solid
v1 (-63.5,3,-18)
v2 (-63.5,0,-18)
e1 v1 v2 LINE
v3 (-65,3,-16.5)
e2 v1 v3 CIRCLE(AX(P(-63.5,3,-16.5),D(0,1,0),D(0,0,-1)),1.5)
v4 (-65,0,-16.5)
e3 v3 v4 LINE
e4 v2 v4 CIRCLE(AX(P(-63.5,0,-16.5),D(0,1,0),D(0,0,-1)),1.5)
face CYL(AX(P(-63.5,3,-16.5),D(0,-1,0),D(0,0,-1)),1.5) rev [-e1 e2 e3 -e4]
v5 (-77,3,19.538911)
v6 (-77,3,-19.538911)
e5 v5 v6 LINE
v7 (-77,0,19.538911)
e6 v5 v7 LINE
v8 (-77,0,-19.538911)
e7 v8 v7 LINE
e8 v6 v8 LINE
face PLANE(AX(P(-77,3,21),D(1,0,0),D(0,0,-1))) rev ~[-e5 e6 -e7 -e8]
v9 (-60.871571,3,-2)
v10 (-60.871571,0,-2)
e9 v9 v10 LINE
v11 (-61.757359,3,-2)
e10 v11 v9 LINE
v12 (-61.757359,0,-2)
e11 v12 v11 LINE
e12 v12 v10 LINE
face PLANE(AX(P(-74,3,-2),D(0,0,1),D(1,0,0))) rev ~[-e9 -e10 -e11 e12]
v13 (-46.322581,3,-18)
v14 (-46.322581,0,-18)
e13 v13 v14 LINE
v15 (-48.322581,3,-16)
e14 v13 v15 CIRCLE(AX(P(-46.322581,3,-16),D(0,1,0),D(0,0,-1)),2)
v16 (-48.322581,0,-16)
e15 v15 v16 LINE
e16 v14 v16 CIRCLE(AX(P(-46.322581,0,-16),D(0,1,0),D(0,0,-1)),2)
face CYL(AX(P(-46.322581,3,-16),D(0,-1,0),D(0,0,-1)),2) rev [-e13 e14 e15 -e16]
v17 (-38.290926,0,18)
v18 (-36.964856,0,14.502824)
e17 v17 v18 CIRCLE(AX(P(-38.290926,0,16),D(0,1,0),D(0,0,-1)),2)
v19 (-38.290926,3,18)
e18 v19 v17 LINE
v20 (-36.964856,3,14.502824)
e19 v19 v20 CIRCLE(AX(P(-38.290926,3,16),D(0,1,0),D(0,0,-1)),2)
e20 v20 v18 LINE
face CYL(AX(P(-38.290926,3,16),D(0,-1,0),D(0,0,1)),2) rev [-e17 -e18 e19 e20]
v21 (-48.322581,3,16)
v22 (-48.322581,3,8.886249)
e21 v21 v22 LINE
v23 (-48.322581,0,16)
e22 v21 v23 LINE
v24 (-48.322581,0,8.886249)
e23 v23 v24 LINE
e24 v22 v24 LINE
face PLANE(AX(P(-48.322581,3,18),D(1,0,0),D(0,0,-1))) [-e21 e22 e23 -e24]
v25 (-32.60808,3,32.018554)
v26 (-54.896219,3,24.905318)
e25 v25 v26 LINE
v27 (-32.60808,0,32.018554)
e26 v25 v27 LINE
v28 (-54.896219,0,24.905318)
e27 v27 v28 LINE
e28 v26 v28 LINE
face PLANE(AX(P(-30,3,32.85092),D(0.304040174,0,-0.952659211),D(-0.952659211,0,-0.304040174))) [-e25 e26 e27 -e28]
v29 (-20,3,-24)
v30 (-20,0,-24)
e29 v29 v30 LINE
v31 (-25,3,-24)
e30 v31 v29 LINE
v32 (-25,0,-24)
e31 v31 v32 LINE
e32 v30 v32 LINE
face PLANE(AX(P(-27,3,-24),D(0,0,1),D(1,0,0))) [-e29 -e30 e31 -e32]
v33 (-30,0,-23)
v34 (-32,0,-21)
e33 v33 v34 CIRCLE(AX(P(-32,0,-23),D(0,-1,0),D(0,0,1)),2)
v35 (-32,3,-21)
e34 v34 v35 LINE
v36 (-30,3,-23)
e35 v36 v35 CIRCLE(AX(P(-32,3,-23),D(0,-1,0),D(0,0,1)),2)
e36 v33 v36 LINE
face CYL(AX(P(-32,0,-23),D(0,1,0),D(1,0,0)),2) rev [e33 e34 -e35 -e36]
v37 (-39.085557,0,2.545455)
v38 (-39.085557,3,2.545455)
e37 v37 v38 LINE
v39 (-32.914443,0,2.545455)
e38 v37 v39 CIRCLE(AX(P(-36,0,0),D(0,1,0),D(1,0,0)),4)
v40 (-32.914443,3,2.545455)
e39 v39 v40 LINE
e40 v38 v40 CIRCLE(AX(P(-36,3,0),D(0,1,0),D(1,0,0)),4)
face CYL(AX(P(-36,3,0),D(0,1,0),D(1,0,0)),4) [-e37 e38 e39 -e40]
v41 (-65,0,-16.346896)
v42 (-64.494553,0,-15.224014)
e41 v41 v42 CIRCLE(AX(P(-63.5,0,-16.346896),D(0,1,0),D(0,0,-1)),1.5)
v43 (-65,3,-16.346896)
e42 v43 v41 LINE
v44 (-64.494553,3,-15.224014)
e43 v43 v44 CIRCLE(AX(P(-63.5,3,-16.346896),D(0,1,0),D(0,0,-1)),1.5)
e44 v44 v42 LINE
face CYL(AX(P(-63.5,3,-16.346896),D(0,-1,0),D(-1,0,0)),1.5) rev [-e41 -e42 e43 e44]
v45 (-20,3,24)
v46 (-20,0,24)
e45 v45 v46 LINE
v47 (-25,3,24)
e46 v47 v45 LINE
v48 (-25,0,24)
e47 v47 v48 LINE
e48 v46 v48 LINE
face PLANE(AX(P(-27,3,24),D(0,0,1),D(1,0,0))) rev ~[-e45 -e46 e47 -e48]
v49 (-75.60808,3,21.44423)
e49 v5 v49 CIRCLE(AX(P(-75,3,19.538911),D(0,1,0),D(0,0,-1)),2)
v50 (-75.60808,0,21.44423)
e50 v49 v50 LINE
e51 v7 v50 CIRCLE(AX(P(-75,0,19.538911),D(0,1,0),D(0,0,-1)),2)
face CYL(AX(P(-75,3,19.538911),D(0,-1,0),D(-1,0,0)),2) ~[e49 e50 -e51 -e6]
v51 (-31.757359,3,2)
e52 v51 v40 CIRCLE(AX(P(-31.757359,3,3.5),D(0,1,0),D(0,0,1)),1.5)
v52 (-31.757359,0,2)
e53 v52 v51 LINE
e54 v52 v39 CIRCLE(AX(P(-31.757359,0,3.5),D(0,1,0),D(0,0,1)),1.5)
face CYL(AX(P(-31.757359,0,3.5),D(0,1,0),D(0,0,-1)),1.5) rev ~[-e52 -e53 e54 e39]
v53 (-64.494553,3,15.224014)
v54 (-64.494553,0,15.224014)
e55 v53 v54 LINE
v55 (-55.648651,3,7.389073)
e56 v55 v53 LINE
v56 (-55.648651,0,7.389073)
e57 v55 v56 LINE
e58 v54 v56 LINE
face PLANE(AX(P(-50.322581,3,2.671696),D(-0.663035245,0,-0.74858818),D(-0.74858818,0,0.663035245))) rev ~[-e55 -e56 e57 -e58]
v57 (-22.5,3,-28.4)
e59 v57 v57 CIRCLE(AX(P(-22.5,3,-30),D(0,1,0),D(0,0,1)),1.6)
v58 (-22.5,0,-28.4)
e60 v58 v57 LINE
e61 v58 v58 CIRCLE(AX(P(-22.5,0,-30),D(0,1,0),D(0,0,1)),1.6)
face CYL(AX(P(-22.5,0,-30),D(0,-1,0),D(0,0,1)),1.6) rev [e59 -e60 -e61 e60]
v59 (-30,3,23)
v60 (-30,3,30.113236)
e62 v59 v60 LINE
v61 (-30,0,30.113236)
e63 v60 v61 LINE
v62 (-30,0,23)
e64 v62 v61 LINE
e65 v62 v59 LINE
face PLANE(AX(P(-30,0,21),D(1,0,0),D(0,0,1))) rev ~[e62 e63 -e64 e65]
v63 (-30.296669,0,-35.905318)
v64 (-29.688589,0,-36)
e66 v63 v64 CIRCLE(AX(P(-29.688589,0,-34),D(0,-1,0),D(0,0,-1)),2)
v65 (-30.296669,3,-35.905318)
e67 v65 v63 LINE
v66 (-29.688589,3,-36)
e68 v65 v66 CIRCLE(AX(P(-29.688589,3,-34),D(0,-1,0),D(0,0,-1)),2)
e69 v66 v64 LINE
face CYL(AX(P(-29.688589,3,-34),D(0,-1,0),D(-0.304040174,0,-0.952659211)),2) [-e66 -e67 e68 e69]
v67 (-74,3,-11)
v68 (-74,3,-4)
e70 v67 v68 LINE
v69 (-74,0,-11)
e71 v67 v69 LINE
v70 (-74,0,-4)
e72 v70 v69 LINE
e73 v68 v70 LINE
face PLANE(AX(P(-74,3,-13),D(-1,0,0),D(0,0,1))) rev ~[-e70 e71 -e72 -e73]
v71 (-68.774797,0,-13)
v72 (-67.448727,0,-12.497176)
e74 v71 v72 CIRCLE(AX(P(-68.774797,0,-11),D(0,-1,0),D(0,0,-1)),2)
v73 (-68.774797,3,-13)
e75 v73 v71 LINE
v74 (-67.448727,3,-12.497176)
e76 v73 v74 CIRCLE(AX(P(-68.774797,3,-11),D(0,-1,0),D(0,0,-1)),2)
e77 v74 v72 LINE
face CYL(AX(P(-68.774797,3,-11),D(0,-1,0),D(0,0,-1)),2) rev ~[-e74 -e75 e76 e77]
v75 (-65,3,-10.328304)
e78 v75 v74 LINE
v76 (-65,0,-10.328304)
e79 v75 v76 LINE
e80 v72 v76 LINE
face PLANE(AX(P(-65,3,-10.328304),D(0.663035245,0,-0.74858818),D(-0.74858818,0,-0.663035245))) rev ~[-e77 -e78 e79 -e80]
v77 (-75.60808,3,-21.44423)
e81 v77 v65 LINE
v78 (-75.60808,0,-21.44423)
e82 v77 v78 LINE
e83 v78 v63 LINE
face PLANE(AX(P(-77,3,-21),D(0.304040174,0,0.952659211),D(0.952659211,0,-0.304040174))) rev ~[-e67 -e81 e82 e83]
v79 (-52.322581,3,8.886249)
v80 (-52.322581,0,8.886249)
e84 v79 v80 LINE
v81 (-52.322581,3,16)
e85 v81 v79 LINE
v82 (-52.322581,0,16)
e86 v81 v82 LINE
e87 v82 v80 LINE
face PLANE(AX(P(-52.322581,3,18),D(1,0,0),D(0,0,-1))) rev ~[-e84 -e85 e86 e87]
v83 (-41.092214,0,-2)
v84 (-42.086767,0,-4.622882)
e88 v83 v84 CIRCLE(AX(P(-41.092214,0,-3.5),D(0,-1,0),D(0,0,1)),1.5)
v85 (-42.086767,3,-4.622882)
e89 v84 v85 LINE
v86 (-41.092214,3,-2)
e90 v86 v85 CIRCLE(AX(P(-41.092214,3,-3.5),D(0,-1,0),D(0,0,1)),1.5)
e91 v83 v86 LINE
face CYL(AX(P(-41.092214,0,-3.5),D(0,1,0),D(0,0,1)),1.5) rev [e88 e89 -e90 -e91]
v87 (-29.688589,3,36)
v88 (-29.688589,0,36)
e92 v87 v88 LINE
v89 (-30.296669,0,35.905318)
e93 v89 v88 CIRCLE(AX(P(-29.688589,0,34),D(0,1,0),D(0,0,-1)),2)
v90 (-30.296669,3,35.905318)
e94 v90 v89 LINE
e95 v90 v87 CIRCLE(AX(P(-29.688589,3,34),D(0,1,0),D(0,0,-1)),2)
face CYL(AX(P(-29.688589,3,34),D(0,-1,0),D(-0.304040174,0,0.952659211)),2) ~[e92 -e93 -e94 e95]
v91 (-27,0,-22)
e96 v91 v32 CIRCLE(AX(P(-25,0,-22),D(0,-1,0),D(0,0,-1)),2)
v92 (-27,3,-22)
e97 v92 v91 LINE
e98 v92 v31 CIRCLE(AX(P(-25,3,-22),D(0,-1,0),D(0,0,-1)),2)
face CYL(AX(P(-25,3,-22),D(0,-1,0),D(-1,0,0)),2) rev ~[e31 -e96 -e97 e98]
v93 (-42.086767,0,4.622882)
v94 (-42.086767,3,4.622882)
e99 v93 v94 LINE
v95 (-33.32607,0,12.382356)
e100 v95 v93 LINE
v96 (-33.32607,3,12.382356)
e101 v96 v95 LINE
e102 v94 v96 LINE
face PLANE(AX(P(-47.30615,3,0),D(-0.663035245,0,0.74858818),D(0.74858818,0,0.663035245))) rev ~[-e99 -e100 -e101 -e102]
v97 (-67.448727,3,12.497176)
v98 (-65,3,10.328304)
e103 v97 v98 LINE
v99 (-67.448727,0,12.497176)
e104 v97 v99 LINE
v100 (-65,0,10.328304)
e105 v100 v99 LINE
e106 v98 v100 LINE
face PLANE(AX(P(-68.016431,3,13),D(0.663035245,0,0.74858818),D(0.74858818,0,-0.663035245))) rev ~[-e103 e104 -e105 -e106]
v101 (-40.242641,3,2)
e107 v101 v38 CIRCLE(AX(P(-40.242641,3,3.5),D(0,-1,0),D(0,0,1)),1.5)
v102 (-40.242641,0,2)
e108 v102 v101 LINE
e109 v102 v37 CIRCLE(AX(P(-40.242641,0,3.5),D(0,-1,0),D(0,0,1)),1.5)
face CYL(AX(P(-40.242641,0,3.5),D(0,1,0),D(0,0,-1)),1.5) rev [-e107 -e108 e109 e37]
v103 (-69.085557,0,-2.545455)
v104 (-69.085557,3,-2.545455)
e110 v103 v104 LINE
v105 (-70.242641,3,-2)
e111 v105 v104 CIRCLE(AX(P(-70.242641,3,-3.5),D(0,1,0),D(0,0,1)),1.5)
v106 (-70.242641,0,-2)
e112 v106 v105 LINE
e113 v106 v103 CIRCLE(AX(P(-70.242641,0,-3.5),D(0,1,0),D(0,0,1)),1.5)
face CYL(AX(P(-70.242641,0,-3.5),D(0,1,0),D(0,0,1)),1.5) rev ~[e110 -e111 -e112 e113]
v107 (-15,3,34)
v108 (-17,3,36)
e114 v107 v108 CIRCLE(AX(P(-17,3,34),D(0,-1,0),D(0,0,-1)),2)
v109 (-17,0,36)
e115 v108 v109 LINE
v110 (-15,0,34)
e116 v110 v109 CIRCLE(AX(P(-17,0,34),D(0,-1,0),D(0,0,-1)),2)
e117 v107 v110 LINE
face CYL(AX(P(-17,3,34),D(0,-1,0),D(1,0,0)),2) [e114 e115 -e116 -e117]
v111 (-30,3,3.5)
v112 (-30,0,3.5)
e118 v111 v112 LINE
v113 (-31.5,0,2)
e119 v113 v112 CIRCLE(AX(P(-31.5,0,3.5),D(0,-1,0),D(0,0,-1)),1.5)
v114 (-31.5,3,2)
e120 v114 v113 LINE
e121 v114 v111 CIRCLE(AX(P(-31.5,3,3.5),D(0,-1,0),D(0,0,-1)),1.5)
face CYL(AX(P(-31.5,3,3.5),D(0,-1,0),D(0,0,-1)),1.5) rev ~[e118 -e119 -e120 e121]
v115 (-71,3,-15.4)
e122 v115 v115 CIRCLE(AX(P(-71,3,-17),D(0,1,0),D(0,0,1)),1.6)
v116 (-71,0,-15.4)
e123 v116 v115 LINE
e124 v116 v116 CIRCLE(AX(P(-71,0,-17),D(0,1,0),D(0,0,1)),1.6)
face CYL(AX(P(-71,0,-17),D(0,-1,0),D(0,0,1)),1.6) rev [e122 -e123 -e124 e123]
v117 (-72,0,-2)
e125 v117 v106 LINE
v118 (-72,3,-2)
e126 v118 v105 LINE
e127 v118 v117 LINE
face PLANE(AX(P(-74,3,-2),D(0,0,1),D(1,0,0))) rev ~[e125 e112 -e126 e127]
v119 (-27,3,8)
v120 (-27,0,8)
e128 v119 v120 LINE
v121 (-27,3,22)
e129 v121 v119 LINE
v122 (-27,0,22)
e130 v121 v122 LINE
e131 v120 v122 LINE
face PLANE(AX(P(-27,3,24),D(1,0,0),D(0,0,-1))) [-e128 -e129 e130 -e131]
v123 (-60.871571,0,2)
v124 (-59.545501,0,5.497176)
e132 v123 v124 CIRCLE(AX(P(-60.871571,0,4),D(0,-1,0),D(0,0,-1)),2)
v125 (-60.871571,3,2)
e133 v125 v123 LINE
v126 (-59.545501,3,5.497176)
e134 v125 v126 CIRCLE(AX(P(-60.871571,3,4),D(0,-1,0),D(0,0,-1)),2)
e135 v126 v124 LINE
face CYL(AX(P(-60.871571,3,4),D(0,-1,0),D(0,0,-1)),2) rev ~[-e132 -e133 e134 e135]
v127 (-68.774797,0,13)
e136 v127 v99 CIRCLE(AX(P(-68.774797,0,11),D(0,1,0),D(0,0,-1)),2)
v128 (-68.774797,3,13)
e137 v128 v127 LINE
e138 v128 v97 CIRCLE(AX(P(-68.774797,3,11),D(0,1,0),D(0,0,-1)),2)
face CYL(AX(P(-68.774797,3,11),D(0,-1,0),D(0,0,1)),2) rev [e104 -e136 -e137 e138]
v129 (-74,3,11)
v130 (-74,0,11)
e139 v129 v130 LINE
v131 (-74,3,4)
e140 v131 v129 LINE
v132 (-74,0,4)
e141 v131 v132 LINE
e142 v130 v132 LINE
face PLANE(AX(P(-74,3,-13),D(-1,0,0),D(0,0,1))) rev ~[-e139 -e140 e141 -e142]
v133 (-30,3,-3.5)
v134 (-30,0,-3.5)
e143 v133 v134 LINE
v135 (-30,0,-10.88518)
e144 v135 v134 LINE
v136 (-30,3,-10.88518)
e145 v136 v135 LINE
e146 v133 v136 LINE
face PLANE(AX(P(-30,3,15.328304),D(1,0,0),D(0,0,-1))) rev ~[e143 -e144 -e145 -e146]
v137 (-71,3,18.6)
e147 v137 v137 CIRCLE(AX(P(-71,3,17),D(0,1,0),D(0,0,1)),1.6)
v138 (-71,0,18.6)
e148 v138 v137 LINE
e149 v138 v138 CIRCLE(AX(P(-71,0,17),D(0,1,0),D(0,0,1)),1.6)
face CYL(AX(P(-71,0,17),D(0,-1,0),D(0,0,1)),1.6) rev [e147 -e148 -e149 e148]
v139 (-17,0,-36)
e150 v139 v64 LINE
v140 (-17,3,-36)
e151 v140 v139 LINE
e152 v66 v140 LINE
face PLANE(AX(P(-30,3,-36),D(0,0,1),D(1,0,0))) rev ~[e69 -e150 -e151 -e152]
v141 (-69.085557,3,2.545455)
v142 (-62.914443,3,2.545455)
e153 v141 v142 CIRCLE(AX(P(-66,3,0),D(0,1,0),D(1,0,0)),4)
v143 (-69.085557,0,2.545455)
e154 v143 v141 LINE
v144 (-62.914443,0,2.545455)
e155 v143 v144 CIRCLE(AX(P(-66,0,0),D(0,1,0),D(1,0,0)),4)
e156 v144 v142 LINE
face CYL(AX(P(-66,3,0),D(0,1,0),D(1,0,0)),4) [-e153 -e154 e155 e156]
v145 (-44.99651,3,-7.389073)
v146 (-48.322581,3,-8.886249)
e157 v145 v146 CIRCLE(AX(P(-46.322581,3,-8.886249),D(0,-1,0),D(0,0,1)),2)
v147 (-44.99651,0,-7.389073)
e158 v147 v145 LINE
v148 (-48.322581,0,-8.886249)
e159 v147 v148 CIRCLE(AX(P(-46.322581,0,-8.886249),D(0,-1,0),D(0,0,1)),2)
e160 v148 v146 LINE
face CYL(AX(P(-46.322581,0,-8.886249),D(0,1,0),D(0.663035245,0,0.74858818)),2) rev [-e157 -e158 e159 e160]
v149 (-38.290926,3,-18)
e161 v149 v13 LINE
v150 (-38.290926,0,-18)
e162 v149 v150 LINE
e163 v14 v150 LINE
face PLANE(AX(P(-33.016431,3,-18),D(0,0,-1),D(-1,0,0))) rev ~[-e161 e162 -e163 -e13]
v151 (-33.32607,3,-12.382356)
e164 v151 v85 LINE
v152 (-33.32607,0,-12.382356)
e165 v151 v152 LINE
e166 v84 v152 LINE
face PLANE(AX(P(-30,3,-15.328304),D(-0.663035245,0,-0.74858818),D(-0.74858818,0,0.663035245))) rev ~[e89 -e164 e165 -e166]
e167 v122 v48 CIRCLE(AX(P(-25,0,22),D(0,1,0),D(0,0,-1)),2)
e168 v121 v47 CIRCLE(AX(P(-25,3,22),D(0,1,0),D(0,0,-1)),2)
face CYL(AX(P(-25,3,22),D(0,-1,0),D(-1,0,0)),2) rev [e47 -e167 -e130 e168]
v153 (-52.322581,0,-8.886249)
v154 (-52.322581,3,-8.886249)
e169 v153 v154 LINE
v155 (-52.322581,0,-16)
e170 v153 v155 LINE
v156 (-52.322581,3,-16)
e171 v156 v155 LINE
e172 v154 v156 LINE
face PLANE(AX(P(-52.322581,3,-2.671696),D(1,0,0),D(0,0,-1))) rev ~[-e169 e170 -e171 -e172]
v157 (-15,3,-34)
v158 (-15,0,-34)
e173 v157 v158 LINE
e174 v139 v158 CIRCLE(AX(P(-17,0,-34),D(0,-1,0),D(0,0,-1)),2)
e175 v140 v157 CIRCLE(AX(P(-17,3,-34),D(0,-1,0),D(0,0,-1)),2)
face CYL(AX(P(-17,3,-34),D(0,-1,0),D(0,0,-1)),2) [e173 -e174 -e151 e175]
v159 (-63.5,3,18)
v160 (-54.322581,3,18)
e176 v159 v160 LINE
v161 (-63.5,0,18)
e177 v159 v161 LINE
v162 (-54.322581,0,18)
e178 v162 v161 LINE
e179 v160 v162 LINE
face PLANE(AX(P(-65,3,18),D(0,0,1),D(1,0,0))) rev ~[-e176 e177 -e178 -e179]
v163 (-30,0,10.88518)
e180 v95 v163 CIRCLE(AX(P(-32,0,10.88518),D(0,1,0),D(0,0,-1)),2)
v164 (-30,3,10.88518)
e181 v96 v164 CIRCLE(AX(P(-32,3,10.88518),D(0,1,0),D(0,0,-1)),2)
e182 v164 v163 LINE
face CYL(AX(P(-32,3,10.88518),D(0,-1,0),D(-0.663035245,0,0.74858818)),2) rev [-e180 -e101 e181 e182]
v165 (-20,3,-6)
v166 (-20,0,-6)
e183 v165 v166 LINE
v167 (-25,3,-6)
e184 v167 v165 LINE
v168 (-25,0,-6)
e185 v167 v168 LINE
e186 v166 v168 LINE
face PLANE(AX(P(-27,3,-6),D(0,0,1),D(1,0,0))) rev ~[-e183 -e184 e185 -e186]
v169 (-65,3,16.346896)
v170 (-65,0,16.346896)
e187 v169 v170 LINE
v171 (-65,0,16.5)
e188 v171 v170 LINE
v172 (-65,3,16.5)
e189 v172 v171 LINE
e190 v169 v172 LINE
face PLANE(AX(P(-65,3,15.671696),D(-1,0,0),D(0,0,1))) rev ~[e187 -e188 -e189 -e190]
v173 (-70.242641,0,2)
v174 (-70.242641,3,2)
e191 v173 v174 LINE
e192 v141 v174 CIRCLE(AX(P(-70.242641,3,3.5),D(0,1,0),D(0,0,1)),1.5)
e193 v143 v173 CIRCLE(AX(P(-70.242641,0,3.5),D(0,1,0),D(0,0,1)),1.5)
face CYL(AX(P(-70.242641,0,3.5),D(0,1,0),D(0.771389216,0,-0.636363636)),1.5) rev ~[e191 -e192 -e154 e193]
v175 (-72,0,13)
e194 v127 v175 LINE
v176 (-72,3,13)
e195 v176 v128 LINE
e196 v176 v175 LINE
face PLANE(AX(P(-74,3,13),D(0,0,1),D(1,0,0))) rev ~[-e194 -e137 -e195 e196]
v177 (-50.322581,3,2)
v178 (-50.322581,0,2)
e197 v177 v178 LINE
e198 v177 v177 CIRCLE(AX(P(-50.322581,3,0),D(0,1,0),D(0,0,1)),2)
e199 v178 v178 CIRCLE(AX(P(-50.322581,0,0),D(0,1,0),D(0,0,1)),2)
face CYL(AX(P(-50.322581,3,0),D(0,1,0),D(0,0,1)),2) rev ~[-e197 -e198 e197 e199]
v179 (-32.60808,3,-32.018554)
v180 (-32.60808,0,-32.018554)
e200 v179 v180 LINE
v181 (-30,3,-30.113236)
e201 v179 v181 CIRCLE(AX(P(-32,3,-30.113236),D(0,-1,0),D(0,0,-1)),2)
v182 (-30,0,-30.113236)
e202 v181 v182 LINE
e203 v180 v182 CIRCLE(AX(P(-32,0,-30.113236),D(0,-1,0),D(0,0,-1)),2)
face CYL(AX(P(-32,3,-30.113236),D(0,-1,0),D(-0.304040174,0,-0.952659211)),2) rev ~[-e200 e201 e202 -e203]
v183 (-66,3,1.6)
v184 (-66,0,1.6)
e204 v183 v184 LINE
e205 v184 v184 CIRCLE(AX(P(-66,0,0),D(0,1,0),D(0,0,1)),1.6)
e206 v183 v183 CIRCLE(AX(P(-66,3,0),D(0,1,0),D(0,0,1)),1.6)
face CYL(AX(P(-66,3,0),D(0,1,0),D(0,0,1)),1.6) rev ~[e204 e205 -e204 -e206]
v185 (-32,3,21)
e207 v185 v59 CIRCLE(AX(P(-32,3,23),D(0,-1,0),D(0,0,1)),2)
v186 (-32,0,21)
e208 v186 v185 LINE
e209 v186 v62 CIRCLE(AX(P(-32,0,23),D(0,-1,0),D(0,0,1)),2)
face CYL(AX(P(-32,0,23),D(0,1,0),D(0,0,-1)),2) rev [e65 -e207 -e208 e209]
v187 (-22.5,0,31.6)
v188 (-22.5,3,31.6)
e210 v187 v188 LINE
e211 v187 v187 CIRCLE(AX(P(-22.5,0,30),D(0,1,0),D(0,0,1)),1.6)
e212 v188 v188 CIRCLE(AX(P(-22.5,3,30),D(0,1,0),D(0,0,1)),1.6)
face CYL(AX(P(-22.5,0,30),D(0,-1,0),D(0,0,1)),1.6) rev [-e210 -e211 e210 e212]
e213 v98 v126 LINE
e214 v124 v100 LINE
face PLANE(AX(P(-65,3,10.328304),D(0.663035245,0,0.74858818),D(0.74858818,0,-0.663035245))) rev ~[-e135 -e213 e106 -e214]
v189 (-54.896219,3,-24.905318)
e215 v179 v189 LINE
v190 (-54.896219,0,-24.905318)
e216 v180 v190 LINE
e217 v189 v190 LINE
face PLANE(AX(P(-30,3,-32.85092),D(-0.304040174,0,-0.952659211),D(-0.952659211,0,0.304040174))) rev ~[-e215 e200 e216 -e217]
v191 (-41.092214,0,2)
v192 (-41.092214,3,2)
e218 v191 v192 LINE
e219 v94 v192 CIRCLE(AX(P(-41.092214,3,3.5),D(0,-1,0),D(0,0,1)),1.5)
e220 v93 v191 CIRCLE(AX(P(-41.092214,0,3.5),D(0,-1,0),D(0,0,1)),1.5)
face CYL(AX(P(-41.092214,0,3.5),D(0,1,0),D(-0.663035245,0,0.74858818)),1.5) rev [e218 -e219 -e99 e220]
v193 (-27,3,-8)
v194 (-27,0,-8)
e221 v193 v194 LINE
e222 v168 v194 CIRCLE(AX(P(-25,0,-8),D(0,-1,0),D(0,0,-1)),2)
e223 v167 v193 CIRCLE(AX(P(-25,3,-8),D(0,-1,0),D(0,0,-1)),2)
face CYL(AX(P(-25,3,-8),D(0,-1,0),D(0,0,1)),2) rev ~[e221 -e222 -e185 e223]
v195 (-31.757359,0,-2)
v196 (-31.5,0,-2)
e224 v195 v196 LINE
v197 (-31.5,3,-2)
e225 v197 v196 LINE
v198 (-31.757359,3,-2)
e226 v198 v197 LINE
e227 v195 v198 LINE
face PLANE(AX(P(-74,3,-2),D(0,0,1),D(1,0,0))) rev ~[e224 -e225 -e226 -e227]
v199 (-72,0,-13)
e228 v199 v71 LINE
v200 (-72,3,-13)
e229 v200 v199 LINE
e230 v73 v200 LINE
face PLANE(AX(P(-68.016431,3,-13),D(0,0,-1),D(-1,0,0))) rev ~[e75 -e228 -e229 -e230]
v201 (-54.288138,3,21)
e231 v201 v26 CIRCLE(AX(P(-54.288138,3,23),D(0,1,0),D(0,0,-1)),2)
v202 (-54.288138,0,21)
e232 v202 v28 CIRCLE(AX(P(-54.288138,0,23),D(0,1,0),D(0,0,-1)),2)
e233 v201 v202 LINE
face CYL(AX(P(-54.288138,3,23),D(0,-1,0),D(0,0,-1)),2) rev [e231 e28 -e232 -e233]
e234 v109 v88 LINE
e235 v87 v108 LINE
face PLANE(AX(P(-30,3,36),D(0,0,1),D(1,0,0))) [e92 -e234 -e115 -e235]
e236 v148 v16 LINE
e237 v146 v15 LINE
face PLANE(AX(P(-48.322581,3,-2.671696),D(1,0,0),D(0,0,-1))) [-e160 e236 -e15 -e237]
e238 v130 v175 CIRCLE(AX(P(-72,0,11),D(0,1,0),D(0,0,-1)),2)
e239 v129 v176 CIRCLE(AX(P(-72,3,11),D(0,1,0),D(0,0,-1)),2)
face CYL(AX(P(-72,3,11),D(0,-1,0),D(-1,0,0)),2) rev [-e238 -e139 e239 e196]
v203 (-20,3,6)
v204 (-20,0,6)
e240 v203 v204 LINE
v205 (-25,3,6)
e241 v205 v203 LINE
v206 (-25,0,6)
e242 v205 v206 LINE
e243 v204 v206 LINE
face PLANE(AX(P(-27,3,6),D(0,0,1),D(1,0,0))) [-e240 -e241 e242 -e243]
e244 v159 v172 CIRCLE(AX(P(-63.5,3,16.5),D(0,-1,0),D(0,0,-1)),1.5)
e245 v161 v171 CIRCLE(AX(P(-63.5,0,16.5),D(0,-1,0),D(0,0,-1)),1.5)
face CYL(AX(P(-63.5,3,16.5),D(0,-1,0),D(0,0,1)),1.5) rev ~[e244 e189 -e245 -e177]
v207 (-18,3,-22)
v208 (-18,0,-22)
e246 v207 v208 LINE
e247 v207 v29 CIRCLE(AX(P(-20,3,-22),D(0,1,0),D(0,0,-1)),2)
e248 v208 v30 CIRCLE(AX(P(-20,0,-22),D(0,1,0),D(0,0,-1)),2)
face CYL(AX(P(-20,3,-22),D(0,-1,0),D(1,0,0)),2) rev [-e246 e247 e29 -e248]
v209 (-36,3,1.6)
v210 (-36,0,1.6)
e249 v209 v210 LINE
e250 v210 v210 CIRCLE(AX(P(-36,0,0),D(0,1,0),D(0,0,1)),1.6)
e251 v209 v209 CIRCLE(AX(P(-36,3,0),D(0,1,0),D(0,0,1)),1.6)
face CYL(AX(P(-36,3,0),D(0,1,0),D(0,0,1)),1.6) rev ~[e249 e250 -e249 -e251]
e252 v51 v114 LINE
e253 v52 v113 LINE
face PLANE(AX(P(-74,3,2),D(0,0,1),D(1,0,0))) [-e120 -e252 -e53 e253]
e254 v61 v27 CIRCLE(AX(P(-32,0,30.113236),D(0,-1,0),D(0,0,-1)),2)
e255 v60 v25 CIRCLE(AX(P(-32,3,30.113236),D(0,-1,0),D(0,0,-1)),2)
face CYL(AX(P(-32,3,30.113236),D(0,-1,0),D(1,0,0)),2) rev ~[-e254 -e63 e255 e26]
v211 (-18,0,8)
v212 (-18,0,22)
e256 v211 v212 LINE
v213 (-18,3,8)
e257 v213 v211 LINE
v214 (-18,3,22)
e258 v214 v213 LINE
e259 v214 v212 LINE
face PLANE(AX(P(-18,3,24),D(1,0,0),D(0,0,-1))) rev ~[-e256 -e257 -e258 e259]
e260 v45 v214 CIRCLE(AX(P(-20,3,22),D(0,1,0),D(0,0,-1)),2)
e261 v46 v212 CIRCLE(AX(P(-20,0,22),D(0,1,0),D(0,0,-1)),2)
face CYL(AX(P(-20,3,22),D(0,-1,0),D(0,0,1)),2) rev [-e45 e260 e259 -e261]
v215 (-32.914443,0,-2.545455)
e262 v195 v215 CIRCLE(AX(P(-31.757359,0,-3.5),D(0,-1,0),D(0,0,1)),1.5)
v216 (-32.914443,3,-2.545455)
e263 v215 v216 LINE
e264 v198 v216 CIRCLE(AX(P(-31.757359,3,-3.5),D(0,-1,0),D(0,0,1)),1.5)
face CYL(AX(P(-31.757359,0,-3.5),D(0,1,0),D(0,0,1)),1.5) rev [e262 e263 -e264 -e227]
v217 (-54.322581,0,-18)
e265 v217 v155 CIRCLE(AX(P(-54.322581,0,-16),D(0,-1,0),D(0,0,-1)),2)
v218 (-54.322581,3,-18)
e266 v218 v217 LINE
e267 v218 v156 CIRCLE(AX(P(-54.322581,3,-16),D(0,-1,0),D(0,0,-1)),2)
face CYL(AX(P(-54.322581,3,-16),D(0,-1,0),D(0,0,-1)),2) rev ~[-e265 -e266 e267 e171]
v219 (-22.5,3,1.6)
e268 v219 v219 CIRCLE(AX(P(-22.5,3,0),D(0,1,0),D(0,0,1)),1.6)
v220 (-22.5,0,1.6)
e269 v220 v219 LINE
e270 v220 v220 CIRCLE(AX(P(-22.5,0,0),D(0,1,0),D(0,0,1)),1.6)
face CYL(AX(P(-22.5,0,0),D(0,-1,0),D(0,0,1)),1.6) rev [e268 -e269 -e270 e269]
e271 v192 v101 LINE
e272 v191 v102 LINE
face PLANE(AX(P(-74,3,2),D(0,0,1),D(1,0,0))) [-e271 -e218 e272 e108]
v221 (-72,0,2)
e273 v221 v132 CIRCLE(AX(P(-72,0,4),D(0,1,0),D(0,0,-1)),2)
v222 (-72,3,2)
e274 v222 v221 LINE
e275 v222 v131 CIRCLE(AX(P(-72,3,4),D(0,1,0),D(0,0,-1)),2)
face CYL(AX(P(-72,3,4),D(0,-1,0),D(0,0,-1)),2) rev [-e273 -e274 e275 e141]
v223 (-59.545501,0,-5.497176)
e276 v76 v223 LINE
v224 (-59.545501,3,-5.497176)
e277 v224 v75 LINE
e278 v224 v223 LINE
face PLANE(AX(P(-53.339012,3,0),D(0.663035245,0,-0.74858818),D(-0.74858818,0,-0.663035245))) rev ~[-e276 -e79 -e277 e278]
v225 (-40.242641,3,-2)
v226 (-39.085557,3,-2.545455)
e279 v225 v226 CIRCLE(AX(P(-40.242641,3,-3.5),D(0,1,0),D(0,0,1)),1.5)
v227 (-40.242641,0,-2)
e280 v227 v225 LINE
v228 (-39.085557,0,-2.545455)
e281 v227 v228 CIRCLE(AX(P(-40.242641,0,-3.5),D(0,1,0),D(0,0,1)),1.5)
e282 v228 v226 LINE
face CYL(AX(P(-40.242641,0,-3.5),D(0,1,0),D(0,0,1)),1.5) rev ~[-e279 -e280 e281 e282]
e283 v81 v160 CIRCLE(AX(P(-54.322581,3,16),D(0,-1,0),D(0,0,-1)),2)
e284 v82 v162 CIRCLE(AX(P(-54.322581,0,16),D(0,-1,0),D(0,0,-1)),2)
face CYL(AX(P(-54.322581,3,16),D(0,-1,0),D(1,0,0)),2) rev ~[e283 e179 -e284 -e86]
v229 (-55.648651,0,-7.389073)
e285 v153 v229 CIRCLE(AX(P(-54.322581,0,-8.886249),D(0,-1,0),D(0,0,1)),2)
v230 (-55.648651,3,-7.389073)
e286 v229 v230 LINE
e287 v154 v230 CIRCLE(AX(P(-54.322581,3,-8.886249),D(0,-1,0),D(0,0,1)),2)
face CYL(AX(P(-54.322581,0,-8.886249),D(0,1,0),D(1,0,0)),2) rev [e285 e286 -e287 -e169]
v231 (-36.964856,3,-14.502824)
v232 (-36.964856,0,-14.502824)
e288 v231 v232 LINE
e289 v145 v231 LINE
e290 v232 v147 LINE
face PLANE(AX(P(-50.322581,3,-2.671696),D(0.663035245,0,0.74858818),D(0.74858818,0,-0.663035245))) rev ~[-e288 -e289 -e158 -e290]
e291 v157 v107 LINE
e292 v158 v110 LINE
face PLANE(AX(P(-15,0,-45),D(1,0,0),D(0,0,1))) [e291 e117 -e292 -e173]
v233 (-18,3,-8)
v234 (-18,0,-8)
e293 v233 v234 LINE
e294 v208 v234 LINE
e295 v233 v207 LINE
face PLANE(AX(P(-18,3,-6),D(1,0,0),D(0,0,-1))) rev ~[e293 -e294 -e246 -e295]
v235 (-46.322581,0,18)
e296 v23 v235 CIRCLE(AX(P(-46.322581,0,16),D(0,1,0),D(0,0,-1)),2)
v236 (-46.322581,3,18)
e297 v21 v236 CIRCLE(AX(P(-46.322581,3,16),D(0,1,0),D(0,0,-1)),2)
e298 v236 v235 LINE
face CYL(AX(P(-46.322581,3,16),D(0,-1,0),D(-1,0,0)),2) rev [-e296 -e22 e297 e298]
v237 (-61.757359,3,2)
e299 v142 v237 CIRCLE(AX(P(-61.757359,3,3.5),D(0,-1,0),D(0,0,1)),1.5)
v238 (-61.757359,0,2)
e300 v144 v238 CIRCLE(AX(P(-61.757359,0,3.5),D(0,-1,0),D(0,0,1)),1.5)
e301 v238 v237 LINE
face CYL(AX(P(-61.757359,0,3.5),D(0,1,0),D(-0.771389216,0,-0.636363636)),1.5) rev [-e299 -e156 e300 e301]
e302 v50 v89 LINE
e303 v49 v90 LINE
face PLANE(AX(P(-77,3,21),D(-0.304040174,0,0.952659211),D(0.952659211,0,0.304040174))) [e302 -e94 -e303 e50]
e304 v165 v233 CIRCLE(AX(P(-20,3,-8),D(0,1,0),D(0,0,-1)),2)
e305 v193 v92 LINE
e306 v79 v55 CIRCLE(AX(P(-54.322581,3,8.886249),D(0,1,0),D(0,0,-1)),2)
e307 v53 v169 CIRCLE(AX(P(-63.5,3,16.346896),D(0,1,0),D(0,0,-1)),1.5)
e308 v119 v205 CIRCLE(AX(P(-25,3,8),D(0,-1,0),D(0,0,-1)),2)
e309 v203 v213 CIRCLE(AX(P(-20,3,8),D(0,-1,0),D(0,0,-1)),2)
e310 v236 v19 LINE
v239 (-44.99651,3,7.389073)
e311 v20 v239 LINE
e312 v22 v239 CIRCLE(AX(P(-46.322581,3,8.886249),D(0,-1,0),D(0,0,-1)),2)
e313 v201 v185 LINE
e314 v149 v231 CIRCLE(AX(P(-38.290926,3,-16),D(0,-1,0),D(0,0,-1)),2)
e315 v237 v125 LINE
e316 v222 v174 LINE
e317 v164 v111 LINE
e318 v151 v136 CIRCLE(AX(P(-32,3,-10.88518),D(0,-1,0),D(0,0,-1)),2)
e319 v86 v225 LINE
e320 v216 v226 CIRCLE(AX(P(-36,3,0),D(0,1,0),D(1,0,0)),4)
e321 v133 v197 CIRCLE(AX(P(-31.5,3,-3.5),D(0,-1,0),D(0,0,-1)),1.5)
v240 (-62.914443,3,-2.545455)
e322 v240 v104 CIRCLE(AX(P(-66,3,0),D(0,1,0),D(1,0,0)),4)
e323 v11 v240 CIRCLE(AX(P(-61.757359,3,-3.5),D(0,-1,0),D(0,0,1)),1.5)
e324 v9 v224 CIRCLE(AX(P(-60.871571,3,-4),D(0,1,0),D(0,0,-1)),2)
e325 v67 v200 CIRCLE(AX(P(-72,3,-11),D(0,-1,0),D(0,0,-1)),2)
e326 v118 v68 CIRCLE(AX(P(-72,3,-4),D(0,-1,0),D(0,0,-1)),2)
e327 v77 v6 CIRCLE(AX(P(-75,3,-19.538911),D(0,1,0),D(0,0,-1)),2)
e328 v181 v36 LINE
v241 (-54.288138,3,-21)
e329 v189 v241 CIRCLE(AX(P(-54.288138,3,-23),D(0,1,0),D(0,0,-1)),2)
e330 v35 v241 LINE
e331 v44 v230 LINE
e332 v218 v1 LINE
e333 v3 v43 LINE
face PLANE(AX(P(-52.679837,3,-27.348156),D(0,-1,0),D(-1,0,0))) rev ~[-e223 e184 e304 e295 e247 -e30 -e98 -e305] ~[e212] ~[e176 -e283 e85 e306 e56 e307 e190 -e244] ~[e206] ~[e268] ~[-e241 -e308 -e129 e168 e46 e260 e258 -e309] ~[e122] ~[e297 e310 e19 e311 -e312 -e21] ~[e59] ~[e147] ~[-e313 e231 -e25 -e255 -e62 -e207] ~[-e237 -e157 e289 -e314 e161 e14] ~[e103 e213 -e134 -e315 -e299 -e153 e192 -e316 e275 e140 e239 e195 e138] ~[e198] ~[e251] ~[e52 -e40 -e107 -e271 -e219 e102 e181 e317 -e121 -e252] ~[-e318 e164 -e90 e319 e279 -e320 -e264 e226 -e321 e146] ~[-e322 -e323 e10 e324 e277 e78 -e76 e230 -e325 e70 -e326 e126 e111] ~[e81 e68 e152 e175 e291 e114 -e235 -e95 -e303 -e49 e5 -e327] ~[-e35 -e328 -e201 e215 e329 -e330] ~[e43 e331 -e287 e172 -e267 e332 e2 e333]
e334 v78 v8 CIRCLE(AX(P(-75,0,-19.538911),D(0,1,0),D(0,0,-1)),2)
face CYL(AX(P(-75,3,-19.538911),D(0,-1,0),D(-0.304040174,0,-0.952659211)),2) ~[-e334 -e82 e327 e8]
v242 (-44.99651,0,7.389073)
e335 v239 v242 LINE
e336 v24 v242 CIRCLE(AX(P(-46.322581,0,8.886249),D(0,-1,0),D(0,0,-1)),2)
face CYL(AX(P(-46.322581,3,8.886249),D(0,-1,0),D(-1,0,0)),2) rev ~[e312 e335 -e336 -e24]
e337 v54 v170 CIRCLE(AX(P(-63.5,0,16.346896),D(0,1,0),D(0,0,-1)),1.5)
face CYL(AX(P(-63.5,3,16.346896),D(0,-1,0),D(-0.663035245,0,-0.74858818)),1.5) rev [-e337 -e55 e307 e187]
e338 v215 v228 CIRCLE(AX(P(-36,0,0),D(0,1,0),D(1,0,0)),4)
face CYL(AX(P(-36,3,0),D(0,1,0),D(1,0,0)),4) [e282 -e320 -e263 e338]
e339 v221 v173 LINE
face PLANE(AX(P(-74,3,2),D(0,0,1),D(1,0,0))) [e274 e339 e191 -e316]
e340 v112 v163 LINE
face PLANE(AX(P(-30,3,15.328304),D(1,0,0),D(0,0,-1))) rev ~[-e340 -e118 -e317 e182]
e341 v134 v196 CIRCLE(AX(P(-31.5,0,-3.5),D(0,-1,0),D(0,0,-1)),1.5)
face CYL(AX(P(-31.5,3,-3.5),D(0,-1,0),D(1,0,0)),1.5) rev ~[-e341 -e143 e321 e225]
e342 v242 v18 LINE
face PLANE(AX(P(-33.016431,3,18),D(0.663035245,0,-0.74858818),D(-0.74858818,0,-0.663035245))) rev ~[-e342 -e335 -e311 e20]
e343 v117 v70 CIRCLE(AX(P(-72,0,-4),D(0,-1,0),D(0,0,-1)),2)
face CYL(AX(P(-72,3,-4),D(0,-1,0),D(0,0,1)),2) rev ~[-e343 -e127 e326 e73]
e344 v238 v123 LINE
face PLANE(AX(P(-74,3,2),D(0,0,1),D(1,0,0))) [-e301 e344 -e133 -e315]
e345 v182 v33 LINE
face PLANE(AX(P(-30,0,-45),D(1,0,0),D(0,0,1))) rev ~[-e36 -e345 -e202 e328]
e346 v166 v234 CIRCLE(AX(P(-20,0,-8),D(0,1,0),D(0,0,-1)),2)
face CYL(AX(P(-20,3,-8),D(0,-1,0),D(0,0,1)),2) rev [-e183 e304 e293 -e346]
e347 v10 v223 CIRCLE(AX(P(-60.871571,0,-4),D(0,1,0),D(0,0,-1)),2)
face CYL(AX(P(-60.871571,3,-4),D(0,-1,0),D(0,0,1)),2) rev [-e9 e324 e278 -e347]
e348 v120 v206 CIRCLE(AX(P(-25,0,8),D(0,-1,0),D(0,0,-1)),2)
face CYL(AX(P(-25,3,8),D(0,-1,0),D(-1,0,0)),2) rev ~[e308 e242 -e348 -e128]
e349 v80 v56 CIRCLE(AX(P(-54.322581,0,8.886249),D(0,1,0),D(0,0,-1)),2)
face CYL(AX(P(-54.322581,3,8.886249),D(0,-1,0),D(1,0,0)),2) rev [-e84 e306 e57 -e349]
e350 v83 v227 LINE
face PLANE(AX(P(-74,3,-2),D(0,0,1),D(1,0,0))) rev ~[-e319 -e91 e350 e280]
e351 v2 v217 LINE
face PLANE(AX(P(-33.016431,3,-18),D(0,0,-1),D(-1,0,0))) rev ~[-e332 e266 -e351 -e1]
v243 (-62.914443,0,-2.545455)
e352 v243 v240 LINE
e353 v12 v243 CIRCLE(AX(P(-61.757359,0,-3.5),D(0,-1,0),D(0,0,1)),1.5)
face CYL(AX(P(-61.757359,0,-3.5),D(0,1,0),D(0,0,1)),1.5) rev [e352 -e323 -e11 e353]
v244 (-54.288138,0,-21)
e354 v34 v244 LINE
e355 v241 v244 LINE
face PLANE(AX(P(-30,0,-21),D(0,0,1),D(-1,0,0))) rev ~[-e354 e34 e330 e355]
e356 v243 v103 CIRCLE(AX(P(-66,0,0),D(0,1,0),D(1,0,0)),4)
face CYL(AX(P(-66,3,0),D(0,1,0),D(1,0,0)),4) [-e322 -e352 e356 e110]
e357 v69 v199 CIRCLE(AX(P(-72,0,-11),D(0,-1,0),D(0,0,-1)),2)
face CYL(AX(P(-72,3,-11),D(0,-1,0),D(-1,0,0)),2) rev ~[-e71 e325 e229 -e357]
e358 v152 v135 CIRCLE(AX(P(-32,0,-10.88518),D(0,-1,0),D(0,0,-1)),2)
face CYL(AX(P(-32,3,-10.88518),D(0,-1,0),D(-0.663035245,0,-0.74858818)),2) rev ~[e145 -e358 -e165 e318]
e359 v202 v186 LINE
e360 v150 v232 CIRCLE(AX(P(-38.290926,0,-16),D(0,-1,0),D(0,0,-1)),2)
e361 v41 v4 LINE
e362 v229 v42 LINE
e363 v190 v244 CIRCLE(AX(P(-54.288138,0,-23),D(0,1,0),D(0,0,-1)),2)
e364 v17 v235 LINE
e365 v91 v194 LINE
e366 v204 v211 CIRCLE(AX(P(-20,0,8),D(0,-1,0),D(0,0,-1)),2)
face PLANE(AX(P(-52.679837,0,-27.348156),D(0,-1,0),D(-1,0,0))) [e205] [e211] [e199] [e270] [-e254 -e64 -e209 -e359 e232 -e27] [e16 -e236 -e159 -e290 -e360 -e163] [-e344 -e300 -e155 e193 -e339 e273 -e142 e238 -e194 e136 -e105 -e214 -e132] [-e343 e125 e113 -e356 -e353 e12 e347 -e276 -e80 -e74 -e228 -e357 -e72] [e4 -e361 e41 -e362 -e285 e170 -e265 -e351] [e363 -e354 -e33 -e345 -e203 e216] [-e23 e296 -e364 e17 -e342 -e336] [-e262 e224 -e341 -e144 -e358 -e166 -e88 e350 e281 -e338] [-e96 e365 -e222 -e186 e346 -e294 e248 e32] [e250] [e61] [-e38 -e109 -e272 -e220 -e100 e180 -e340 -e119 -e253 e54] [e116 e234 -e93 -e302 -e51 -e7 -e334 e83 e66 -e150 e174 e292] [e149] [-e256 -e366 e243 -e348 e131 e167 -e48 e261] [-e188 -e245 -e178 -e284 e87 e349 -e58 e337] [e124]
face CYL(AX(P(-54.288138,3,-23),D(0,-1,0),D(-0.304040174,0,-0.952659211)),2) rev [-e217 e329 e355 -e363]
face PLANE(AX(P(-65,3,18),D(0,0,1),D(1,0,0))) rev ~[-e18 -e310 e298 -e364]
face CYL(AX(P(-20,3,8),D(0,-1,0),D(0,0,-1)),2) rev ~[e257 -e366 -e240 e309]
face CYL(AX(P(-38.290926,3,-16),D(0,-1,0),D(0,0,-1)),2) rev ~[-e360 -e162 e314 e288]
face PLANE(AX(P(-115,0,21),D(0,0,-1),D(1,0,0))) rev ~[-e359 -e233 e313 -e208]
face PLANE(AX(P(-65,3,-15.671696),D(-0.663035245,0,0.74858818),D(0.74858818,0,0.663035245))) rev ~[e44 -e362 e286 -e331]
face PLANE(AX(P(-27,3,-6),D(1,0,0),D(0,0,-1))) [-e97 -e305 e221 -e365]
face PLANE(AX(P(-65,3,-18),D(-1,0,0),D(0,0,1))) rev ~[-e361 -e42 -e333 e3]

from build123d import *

# Parameters (mm, degrees)
SKETCH_1_R          = 1.6
EXTRUDE_1_DEPTH     = 3
SKETCH_2_W          = 38
SKETCH_2_H          = 42
CUT_EXTRUDE_1_DEPTH = 124.527324912
CUT_EXTRUDE_2_DEPTH = 90.235643103
SKETCH_4_W          = 9
SKETCH_4_H          = 18
SKETCH_4_W_2        = 15
SKETCH_4_H_2        = 9
CUT_EXTRUDE_3_DEPTH = 90.235643103
SKETCH_5_W          = 44
SKETCH_5_H          = 4
EXTRUDE_2_DEPTH     = 3
SKETCH_6_W          = 4
SKETCH_6_H          = 15.328304062
EXTRUDE_3_DEPTH     = 3
SKETCH_7_R          = 2
CUT_EXTRUDE_4_DEPTH = 86.0529247
EXTRUDE_4_DEPTH     = 3
FILLET_2_R          = 2
FILLET_1_R          = 1.5
SKETCH_9_R          = 1.6
CUT_EXTRUDE_5_DEPTH = 86.0529247
SKETCH_10_R         = 4
SKETCH_10_R_2       = 1.6
EXTRUDE_5_DEPTH     = 3
FILLET_3_R          = 1.5


with BuildPart() as part:
    # 草图1 → 凸台-拉伸1 (new body)
    with BuildSketch(Plane(origin=(0, 0, 0), x_dir=(1, 0, 0), z_dir=(0, 1, 0))):
        Polygon((-30, 39.804513537), (-30, 45), (-15, 45), (-15, -45), (-30, -45), (-30, -39.804513537), (-30, -21), (-96.599318778, -21), (-115, -21), (-115, 21), (-96.599318778, 21), (-30, 21), align=None)
        with Locations(Location((-71, -17, 0), (0, 0, 270))):
            Circle(SKETCH_1_R, mode=Mode.SUBTRACT)
        with Locations(Location((-71, 17, 0), (0, 0, 270))):
            Circle(SKETCH_1_R, mode=Mode.SUBTRACT)
        with Locations(Location((-22.5, 30, 0), (0, 0, 270))):
            Circle(SKETCH_1_R, mode=Mode.SUBTRACT)
        with Locations(Location((-22.5, -30, 0), (0, 0, 270))):
            Circle(SKETCH_1_R, mode=Mode.SUBTRACT)
        with Locations(Location((-22.5, 0, 0), (0, 0, 270))):
            Circle(SKETCH_1_R, mode=Mode.SUBTRACT)
    extrude(amount=EXTRUDE_1_DEPTH)

    # 草图2 → 切除-拉伸1 (cut, through all)
    with BuildSketch(Plane(origin=(0, 3, 0), x_dir=(1, 0, 0), z_dir=(0, 1, 0))):
        with Locations((-96, 0)):
            Rectangle(SKETCH_2_W, SKETCH_2_H)
    extrude(amount=-CUT_EXTRUDE_1_DEPTH, mode=Mode.SUBTRACT)

    # 草图3 → 切除-拉伸2 (cut, through all)
    with BuildSketch(Plane(origin=(0, 3, 0), x_dir=(1, 0, 0), z_dir=(0, 1, 0))):
        Polygon((-68.016430897, 13), (-74, 13), (-74, -13), (-68.016430897, -13), (-65, -10.328304062), (-65, 10.328304062), align=None)
        Polygon((-53.339011543, 0), (-65, 10.328304062), (-65, -10.328304062), align=None)
        Polygon((-65, 18), (-65, 15.671695938), (-50.322580645, 2.671695938), (-33.016430897, 18), align=None)
        Polygon((-30, 15.328304062), (-47.306149748, 0), (-30, -15.328304062), align=None)
        Polygon((-50.322580645, -2.671695938), (-65, -15.671695938), (-65, -18), (-33.016430897, -18), align=None)
    extrude(amount=-CUT_EXTRUDE_2_DEPTH, mode=Mode.SUBTRACT)

    # 草图4 → 切除-拉伸3 (cut, through all)
    with BuildSketch(Plane(origin=(0, 3, 0), x_dir=(1, 0, 0), z_dir=(0, 1, 0))):
        with Locations((-22.5, 15)):
            Rectangle(SKETCH_4_W, SKETCH_4_H)
        with Locations((-22.5, 40.5)):
            Rectangle(SKETCH_4_W_2, SKETCH_4_H_2)
        with Locations((-22.5, -40.5)):
            Rectangle(SKETCH_4_W_2, SKETCH_4_H_2)
        with Locations((-22.5, -15)):
            Rectangle(SKETCH_4_W, SKETCH_4_H)
    extrude(amount=-CUT_EXTRUDE_3_DEPTH, mode=Mode.SUBTRACT)

    # 草图5 → 凸台-拉伸2 (add)
    with BuildSketch(Plane(origin=(0, 3, 0), x_dir=(1, 0, 0), z_dir=(0, 1, 0))):
        with Locations((-52, 0)):
            Rectangle(SKETCH_5_W, SKETCH_5_H)
    extrude(amount=-EXTRUDE_2_DEPTH)

    # 草图6 → 凸台-拉伸3 (add)
    with BuildSketch(Plane(origin=(0, 3, 0), x_dir=(1, 0, 0), z_dir=(0, 1, 0))):
        with Locations((-50.322580645, -10.335847969)):
            Rectangle(SKETCH_6_W, SKETCH_6_H)
        with Locations((-50.322580645, 10.335847969)):
            Rectangle(SKETCH_6_W, SKETCH_6_H)
    extrude(amount=-EXTRUDE_3_DEPTH)

    # 草图7 → 切除-拉伸4 (cut, through all)
    with BuildSketch(Plane(origin=(0, 3, 0), x_dir=(1, 0, 0), z_dir=(0, 1, 0))):
        with Locations(Location((-50.322580645, 0, 0), (0, 0, 270))):
            Circle(SKETCH_7_R)
    extrude(amount=-CUT_EXTRUDE_4_DEPTH, mode=Mode.SUBTRACT)

    # 草图8 → 凸台-拉伸4 (add)
    with BuildSketch(Plane(origin=(0, 3, 0), x_dir=(1, 0, 0), z_dir=(0, 1, 0))):
        Polygon((-77, 21), (-30, 36), (-30, 32.850920072), (-67.132882893, 21), align=None)
        Polygon((-67.132882893, -21), (-77, -21), (-30, -36), (-30, -32.850920072), align=None)
    extrude(amount=-EXTRUDE_4_DEPTH)

    # 圆角2
    fillet_2_edges = [part.edges().sort_by_distance(p)[0] for p in [
        (-74, 1.5, -13),
        (-68.016430897, 1.5, -13),
        (-30, 1.5, -36),
        (-15, 1.5, -36),
        (-30, 1.5, 36),
        (-15, 1.5, 36),
        (-18, 1.5, 24),
        (-27, 1.5, 24),
        (-27, 1.5, 6),
        (-18, 1.5, 6),
        (-27, 1.5, -6),
        (-27, 1.5, -24),
        (-18, 1.5, -24),
        (-18, 1.5, -6),
        (-55.597076059, 1.5, -2),
        (-74, 1.5, -2),
        (-55.597076059, 1.5, 2),
        (-74, 1.5, 2),
        (-48.322580645, 1.5, -4.443124509),
        (-48.322580645, 1.5, 4.443124509),
        (-48.322580645, 1.5, 18),
        (-52.322580645, 1.5, 4.443124509),
        (-52.322580645, 1.5, 18),
        (-30, 1.5, 21),
        (-30, 1.5, -21),
        (-48.322580645, 1.5, -18),
        (-52.322580645, 1.5, -4.443124509),
        (-52.322580645, 1.5, -18),
        (-67.132882893, 1.5, -21),
        (-30, 1.5, -32.850920072),
        (-67.132882893, 1.5, 21),
        (-30, 1.5, 32.850920072),
        (-77, 1.5, -21),
        (-77, 1.5, 21),
        (-30, 1.5, -15.328304062),
        (-30, 1.5, 15.328304062),
        (-33.016430897, 1.5, -18),
        (-33.016430897, 1.5, 18),
        (-68.016430897, 1.5, 13),
        (-74, 1.5, 13),
    ]]
    fillet(fillet_2_edges, radius=FILLET_2_R)

    # 圆角1
    fillet_1_edges = [part.edges().sort_by_distance(p)[0] for p in [
        (-65, 1.5, -15.671695938),
        (-65, 1.5, -18),
        (-65, 1.5, 15.671695938),
        (-65, 1.5, 18),
    ]]
    fillet(fillet_1_edges, radius=FILLET_1_R)

    # 草图9 → 切除-拉伸5 (cut, through all)
    with BuildSketch(Plane(origin=(0, 3, 0), x_dir=(1, 0, 0), z_dir=(0, 1, 0))):
        with Locations(Location((-36, 0, 0), (0, 0, 270))):
            Circle(SKETCH_9_R)
        with Locations(Location((-66, 0, 0), (0, 0, 270))):
            Circle(SKETCH_9_R)
    extrude(amount=-CUT_EXTRUDE_5_DEPTH, mode=Mode.SUBTRACT)

    # 草图10 → 凸台-拉伸5 (add)
    # profile 1 of 2: a face of its own
    with BuildSketch(Plane(origin=(0, 3, 0), x_dir=(1, 0, 0), z_dir=(0, 1, 0))):
        with Locations((-66, 0)):
            Circle(SKETCH_10_R)
        with Locations(Location((-66, 0, 0), (0, 0, 270))):
            Circle(SKETCH_10_R_2, mode=Mode.SUBTRACT)
    # profile 2 of 2: a face of its own
    with BuildSketch(Plane(origin=(0, 3, 0), x_dir=(1, 0, 0), z_dir=(0, 1, 0))):
        with Locations((-36, 0)):
            Circle(SKETCH_10_R)
        with Locations(Location((-36, 0, 0), (0, 0, 270))):
            Circle(SKETCH_10_R_2, mode=Mode.SUBTRACT)
    extrude(amount=-EXTRUDE_5_DEPTH)

    # 圆角3
    fillet_3_edges = [part.edges().sort_by_distance(p)[0] for p in [
        (-45.048085232, 1.5, 2),
        (-30, 1.5, 2),
        (-30, 1.5, -2),
        (-45.048085232, 1.5, -2),
        (-69.464101615, 1.5, 2),
        (-62.535898385, 1.5, 2),
        (-32.535898385, 1.5, -2),
        (-39.464101615, 1.5, -2),
        (-69.464101615, 1.5, -2),
        (-62.535898385, 1.5, -2),
        (-32.535898385, 1.5, 2),
        (-39.464101615, 1.5, 2),
    ]]
    fillet(fillet_3_edges, radius=FILLET_3_R)


solid = part.part
